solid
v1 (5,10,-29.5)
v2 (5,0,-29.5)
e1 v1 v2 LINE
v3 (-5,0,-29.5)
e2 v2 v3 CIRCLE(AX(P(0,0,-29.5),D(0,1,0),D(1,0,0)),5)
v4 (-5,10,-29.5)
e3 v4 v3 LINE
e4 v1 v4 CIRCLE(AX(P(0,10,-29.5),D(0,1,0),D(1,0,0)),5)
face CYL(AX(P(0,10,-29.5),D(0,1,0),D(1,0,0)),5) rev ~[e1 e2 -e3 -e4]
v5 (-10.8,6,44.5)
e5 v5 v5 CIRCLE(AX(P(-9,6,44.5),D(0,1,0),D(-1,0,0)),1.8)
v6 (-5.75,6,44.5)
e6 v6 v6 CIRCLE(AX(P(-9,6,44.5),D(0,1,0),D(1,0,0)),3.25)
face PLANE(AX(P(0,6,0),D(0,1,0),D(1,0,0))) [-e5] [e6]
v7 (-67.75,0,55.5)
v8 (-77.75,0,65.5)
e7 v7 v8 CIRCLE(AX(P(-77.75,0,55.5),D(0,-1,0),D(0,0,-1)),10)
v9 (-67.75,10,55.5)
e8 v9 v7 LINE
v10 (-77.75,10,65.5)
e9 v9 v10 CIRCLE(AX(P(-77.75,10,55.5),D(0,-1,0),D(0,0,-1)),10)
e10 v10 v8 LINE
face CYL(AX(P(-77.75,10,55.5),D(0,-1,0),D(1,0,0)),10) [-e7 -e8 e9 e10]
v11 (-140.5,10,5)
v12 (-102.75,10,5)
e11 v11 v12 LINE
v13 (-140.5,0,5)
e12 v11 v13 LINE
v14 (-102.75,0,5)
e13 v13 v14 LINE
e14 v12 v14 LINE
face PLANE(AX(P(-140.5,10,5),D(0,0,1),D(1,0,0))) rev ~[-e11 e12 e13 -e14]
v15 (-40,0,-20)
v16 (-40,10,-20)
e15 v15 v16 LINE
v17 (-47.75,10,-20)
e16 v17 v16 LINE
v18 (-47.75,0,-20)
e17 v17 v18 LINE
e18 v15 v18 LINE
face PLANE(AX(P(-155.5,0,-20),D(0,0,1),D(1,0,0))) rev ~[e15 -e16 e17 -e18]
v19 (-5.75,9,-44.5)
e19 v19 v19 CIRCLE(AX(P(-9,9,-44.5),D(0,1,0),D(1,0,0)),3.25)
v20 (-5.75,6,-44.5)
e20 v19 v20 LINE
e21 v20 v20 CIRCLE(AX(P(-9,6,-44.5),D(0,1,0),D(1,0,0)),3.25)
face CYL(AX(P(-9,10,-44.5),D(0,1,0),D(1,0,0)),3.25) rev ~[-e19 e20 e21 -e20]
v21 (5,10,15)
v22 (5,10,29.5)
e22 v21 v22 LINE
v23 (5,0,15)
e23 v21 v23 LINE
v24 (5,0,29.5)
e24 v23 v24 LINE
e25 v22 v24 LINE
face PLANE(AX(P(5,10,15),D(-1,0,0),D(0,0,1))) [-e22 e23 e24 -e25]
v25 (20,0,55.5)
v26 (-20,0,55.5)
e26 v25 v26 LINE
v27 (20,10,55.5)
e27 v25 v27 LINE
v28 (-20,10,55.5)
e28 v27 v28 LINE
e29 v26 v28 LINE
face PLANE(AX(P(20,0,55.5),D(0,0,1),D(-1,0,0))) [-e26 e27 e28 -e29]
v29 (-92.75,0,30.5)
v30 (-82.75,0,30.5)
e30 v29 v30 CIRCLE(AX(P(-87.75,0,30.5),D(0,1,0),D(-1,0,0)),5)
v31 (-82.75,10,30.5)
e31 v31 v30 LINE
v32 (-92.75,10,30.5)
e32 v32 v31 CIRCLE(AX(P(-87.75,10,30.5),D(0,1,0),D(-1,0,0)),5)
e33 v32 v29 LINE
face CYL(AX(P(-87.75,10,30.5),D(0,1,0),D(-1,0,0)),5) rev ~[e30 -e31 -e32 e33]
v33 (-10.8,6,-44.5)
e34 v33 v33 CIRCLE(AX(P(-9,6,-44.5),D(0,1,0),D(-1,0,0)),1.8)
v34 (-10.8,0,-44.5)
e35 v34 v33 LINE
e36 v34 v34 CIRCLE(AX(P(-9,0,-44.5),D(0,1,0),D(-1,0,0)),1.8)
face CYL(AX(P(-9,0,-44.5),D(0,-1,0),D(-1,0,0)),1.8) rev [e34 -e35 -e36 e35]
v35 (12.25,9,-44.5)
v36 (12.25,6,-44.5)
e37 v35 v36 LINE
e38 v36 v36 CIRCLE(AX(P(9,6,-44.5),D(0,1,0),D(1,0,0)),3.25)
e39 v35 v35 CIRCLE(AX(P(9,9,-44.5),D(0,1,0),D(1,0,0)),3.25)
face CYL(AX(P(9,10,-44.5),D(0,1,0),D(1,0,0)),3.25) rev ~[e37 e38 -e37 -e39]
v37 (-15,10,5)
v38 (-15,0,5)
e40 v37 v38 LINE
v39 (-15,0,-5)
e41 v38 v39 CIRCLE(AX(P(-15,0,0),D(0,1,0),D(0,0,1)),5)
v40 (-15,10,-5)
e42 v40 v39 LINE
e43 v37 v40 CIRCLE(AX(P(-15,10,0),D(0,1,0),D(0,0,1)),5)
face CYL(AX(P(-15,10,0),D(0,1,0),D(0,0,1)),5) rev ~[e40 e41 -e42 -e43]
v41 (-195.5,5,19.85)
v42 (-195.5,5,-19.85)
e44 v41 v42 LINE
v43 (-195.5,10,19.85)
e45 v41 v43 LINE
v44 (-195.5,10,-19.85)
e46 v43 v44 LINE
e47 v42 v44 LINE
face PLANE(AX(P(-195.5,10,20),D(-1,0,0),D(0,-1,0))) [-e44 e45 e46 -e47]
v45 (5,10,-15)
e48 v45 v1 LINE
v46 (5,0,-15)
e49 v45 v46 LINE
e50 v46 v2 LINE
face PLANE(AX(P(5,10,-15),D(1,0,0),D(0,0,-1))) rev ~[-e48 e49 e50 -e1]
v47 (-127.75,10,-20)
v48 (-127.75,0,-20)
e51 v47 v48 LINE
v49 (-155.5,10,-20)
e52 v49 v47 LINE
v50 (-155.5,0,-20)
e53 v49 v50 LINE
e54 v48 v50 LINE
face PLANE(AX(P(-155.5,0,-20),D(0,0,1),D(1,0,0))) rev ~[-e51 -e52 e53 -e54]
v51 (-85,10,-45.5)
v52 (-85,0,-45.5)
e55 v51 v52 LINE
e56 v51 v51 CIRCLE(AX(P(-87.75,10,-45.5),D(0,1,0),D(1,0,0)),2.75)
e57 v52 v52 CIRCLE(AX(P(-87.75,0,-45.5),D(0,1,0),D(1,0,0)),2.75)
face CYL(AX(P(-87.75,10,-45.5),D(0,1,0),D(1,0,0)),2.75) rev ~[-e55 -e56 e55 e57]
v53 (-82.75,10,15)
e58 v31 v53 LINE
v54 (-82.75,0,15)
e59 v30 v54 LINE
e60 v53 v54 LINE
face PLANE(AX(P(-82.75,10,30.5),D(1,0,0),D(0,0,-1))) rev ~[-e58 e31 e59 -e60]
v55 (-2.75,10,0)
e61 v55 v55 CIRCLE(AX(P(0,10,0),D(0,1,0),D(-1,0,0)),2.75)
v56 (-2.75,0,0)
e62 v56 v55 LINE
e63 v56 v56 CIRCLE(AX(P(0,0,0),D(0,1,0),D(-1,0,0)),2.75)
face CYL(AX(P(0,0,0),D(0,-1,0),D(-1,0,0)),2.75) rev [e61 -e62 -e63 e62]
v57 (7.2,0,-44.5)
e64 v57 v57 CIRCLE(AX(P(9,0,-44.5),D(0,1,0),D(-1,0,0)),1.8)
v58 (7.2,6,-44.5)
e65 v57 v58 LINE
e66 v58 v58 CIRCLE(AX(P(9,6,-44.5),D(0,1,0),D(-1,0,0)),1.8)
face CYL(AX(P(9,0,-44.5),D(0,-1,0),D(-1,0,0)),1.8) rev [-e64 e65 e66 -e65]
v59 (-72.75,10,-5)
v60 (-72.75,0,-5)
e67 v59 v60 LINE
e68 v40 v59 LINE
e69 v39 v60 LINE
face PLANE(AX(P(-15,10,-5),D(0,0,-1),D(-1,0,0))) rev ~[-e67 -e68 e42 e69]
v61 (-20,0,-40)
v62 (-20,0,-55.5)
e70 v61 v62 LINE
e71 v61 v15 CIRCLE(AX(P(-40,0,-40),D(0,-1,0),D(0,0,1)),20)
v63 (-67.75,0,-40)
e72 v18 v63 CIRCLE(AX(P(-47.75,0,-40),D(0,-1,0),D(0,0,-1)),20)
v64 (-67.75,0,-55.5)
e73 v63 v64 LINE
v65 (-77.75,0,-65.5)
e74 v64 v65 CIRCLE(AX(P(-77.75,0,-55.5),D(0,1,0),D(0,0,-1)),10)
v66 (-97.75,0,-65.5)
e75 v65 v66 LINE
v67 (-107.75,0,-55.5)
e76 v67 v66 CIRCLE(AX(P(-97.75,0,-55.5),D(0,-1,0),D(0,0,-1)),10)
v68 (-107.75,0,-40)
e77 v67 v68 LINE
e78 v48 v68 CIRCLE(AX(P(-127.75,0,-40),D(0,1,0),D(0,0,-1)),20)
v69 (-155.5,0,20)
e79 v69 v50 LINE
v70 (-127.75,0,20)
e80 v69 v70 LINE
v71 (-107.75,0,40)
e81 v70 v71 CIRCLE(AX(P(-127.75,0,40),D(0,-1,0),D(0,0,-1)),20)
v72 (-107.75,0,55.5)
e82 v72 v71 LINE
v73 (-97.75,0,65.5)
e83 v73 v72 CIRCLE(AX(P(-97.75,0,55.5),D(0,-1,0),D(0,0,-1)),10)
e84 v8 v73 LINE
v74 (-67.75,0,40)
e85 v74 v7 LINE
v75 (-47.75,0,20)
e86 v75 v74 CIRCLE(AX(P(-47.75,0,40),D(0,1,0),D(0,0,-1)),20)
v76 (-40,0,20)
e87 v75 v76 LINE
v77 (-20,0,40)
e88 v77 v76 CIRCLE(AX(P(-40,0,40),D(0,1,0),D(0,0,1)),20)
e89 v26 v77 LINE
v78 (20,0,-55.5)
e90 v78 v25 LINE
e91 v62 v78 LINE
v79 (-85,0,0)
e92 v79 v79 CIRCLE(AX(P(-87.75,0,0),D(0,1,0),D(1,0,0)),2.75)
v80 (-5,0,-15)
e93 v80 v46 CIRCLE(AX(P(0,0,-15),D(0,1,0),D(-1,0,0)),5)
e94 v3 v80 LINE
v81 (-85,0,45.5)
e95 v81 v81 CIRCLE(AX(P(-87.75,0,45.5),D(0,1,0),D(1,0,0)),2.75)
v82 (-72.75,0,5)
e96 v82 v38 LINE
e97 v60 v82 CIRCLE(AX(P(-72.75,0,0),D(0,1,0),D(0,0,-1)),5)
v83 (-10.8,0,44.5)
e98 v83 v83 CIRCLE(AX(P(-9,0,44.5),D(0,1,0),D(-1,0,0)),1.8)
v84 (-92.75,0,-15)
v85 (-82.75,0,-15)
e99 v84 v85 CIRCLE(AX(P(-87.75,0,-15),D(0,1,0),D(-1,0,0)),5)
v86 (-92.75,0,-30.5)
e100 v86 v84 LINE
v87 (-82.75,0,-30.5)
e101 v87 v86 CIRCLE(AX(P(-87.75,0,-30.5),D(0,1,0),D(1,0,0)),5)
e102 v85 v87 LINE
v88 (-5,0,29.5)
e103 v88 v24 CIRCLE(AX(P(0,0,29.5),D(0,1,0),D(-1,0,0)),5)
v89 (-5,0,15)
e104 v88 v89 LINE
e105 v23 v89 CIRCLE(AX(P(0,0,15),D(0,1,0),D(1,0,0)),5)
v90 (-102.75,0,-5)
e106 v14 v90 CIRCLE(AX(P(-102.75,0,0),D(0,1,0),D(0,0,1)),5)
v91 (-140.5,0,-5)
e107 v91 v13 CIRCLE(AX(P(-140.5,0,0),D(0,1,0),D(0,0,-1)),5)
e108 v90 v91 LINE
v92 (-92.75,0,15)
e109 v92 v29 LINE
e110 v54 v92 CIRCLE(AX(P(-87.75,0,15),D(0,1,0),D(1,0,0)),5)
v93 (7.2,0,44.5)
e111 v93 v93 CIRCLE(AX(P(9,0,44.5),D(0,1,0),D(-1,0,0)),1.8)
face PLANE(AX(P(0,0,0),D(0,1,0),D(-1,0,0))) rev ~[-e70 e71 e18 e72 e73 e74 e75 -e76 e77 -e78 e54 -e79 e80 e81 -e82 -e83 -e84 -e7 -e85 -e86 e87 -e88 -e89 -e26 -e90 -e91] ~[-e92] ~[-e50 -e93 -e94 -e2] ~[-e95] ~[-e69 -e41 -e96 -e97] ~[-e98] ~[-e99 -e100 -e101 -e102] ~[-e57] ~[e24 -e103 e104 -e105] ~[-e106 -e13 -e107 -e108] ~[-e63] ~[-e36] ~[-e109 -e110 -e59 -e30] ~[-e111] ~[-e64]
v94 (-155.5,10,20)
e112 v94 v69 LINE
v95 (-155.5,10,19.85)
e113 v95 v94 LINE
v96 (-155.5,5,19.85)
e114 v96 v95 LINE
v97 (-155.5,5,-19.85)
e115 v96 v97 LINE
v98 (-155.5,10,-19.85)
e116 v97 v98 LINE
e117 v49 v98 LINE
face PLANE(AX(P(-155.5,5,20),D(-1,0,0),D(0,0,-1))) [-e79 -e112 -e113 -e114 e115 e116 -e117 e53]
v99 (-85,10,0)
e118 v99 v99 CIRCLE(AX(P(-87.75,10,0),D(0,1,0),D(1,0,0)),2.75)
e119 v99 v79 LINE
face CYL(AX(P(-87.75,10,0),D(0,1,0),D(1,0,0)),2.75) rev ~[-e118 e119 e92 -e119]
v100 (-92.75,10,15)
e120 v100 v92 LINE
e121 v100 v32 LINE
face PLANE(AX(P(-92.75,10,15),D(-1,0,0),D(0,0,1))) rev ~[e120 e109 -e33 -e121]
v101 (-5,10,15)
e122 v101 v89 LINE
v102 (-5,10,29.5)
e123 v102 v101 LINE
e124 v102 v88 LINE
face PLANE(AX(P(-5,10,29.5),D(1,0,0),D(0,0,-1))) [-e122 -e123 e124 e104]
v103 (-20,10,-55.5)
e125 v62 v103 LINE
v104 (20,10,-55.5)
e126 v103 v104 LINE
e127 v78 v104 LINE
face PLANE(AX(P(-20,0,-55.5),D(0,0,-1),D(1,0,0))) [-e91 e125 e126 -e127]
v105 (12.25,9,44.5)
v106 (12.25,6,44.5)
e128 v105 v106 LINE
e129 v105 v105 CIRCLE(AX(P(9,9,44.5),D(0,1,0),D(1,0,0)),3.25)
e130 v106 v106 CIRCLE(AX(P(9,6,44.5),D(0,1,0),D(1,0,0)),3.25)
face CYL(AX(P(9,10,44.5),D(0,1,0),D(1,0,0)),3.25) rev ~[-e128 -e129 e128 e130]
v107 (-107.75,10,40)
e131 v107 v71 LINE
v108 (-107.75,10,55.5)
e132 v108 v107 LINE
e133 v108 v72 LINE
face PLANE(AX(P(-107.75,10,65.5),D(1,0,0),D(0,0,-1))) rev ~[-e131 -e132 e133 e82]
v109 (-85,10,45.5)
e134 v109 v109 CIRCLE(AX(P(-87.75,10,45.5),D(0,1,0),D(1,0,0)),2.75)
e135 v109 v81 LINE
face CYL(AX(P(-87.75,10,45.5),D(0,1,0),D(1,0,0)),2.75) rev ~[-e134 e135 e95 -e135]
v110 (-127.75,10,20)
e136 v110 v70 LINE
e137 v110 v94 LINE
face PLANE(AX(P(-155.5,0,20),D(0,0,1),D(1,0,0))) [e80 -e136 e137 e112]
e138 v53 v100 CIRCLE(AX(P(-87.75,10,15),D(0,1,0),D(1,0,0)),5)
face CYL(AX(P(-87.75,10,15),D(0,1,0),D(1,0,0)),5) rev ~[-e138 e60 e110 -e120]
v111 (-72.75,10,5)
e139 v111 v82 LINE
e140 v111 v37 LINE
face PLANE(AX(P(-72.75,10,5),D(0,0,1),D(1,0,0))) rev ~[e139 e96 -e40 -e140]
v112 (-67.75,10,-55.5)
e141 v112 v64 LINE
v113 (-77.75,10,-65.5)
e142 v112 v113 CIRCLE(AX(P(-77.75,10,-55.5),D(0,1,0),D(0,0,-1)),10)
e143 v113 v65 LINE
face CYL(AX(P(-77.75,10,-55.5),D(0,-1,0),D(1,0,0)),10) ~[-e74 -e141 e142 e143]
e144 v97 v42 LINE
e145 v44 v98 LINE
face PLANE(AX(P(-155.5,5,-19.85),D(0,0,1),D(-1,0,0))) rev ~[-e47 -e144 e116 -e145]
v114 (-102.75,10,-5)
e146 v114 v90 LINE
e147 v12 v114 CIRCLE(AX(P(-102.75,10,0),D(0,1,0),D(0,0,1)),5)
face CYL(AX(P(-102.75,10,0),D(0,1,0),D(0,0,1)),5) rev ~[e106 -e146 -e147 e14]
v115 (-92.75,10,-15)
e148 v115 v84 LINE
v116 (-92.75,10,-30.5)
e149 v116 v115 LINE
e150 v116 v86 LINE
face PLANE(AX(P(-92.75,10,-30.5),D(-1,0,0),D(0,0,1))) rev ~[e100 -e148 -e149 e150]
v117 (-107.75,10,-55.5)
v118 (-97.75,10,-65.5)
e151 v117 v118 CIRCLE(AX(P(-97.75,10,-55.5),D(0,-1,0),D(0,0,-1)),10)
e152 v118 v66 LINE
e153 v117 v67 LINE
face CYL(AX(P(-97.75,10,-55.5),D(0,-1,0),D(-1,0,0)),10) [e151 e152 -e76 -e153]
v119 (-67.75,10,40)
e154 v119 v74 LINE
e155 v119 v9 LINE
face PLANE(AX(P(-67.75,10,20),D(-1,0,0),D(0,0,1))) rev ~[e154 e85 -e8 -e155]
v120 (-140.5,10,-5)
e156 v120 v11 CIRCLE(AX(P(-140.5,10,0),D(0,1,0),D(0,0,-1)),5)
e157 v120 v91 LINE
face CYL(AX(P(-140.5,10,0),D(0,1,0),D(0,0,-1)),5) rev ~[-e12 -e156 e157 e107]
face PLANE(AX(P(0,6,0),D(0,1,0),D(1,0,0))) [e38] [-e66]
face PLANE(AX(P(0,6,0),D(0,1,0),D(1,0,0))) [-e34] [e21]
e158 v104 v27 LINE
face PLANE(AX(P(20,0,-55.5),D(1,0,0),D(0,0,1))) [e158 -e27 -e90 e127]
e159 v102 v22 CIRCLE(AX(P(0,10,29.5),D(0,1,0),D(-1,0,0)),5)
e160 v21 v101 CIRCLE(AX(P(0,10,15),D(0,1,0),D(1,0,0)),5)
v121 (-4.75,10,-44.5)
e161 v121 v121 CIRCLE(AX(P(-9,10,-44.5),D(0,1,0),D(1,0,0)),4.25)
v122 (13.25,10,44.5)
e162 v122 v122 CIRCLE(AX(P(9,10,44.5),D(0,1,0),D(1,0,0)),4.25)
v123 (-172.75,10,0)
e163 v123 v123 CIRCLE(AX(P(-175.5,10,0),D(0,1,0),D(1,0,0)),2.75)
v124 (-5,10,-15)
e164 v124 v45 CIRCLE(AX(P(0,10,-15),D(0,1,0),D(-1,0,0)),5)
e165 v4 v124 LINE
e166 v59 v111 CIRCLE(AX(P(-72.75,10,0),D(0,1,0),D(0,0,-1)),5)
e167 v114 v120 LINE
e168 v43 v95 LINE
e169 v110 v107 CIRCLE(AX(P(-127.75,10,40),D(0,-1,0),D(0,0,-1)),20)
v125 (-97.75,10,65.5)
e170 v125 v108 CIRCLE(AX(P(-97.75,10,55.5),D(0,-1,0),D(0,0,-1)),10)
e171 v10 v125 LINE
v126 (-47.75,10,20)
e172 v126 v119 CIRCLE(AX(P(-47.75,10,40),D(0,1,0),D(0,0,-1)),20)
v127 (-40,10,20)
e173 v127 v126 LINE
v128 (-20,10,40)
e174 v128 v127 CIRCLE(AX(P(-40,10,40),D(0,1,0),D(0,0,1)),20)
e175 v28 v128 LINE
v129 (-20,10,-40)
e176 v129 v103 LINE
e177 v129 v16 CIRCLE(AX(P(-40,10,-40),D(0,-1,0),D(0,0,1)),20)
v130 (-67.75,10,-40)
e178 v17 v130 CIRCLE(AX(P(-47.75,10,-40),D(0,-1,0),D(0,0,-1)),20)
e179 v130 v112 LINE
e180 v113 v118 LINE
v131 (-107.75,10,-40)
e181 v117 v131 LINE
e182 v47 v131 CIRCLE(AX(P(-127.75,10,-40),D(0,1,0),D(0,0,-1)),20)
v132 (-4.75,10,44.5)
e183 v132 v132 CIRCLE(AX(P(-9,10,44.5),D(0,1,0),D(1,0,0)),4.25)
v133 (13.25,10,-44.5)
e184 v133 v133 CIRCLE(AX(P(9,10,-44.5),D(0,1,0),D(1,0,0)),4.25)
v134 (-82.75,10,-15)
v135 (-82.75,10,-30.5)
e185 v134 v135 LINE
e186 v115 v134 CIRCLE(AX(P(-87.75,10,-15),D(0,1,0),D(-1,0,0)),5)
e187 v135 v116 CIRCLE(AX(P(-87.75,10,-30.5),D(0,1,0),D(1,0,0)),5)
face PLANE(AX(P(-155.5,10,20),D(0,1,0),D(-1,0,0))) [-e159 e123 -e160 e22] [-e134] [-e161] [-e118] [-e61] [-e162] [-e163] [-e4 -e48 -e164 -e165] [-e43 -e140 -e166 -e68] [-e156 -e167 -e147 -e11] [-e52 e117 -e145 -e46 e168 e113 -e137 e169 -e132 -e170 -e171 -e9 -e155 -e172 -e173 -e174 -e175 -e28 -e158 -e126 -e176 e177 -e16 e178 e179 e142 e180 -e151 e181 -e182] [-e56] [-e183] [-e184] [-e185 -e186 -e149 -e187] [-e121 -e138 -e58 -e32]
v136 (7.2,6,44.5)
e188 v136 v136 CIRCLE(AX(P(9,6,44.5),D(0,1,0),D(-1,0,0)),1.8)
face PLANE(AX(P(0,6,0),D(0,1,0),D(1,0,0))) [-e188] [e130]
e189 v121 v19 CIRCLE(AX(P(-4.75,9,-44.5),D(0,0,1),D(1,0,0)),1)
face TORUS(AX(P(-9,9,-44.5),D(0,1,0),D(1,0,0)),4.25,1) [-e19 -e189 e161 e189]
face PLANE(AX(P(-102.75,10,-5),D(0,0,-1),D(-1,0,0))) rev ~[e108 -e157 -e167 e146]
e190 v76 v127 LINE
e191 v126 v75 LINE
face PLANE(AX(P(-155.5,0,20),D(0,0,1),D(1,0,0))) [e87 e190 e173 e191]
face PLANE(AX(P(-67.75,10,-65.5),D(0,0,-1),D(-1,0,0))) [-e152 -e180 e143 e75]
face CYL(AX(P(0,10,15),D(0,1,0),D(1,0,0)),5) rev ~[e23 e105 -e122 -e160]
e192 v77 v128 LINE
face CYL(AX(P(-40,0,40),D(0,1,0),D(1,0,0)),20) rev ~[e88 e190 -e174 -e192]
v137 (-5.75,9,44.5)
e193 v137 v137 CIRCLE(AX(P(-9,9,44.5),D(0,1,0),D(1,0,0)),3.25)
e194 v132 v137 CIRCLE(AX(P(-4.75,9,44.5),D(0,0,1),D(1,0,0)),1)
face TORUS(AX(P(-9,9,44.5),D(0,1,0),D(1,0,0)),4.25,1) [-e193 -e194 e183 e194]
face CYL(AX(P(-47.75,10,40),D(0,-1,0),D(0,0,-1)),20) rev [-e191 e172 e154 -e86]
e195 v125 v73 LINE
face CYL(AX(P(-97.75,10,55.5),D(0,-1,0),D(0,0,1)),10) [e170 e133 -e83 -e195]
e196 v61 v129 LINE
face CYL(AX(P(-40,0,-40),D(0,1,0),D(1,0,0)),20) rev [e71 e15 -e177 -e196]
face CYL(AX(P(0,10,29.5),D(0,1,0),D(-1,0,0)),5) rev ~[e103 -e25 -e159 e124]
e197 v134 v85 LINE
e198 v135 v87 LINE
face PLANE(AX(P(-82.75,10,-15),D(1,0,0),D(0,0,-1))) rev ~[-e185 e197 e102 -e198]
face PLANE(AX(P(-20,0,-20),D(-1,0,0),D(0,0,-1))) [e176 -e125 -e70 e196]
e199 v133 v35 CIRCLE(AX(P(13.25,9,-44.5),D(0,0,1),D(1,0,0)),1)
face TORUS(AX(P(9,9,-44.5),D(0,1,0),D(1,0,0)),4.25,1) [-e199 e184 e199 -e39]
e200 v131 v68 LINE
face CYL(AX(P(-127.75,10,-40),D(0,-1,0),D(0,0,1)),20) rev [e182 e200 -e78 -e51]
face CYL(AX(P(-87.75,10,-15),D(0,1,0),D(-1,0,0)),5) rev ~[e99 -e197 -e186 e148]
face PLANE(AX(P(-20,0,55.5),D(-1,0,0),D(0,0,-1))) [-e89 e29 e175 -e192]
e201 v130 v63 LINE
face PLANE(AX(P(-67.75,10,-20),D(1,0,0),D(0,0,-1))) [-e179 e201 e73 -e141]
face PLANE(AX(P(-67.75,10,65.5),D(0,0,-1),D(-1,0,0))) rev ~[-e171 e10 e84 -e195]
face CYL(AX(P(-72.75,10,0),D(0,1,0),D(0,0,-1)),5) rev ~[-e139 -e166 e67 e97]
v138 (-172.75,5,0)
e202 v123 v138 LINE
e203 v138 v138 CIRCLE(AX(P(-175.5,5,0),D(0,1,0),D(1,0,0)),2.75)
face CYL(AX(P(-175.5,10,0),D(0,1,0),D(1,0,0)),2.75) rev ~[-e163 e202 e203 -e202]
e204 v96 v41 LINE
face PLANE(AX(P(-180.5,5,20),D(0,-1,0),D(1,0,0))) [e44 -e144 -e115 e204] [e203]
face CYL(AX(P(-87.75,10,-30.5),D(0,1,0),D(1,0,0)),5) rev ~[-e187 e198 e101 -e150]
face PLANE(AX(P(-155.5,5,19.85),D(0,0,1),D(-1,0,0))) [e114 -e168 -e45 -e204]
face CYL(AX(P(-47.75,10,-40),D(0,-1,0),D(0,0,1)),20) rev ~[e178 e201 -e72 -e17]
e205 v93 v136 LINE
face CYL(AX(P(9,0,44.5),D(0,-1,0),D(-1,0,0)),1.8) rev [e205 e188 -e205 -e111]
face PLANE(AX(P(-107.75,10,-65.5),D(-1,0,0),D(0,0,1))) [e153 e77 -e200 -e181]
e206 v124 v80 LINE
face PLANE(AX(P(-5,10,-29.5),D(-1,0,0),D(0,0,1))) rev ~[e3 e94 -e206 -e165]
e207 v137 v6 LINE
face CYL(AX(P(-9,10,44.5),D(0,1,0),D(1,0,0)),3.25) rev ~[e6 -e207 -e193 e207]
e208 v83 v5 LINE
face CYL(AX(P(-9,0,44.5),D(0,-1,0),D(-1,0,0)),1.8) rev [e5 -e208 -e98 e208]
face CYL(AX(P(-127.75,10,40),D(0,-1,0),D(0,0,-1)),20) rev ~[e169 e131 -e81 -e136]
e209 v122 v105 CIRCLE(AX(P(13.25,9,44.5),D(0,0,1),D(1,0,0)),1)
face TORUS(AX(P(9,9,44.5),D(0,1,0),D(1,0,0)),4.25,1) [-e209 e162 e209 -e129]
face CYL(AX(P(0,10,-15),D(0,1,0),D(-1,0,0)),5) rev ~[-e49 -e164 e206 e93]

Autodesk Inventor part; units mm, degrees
ref_plane "YZ Plane" through (0, 0, 0) normal (1, 0, 0) x (0, 1, 0)
ref_plane "XZ Plane" through (0, 0, 0) normal (0, 1, 0) x (-1, 0, 0)
ref_plane "XY Plane" through (0, 0, 0) normal (0, 0, 1) x (1, 0, 0)
sketch "Sketch1" plane through (0, 0, 0) normal (0, 1, 0) x (-1, 0, 0)
  line L0 (-20, 55.5) -> (20, 55.5)
  line L1 (20, 55.5) -> (20, -55.5)
  line L2 (20, -55.5) -> (-20, -55.5)
  line L3 (-20, -55.5) -> (-20, 55.5)
  line L4 (0, 55.5) -> (0, -55.5) construction
  line L5 (20, 0) -> (-20, 0) construction
  circle A0 centre (9, -44.5) radius 1.8
  circle A1 centre (9, 44.5) radius 1.8
  circle A2 centre (-9, -44.5) radius 1.8
  circle A3 centre (-9, 44.5) radius 1.8
  circle A4 centre (0, 0) radius 2.75
  line L6 (155.5, -20) -> (20, -20)
  line L7 (20, -20) -> (20, 20)
  line L8 (20, 20) -> (155.5, 20)
  line L9 (155.5, 20) -> (155.5, -20)
  point P0 (145, 0)
  point P1 (145, -20)
  dimension "d0" = 40
  dimension "d1" = 111
  dimension "d2" = 3.6
  dimension "d3" = 5.5
  dimension "d4" = 40
extrude "Extrusion1" add sketch "Sketch1" along normal blind 10
sketch "Sketch2" plane through (0, 10, 0) normal (0, 1, 0) x (1, 0, 0)
  circle A0 centre (-9, 44.5) radius 1.8 projected
  circle A1 centre (-9, 44.5) radius 3.25
  circle A2 centre (9, 44.5) radius 1.8 projected
  circle A3 centre (9, 44.5) radius 3.25
  circle A4 centre (9, -44.5) radius 1.8 projected
  circle A5 centre (9, -44.5) radius 3.25
  circle A6 centre (-9, -44.5) radius 1.8 projected
  circle A7 centre (-9, -44.5) radius 3.25
  point P0 (0, 0)
  dimension "d7" = 6.5
  dimension "d8" = 6.5
  dimension "d9" = 6.5
  dimension "d10" = 6.5
extrude "Extrusion2" cut sketch "Sketch2" against normal blind 4
fillet "Fillet1" radius 1 4 edges at (-12.25, 10, 44.5) (5.75, 10, 44.5) (5.75, 10, -44.5) (-12.25, 10, -44.5)
fillet "Fillet2" radius 20 2 edges at (-20, 5, 20) (-20, 5, -20)
sketch "Sketch3" plane through (-155.5, 0, 20) normal (0, 0, 1) x (1, 0, 0)
  line L0 (0, 0) -> (0, 10) projected
  line L1 (0, 10) -> (-25, 10)
  line L2 (-25, 10) -> (-25, 5)
  line L3 (-25, 5) -> (0, 5)
  line L4 (0, 5) -> (0, 10)
  line L5 (0, 5) -> (15, 5)
  line L6 (15, 5) -> (15, 0)
  line L7 (15, 0) -> (0, 0)
  line L8 (0, 0) -> (0, 5)
  point P0 (155.5, 0)
  dimension "d15" = 25
  dimension "d16" = 5
  dimension "d17" = 15
  dimension "d18" = 5
extrude "Extrusion3" add sketch "Sketch3" against normal blind 40 contours L3 L2 L1 L0
extrude "Extrusion4" cut sketch "Sketch3" against normal blind 40 contours L0 L5 L6 L7
sketch "Sketch4" plane through (0, 10, 0) normal (0, 1, 0) x (1, 0, 0)
  circle A0 centre (0, 0) radius 2.75 construction
  circle A1 centre (-9, 44.5) radius 1.8 construction
  circle A2 centre (9, 44.5) radius 1.8 construction
  line L0 (-9, 44.5) -> (9, 44.5) construction
  line L1 (0, 29.5) -> (0, 15) construction
  line L2 (-5, 29.5) -> (-5, 15)
  line L3 (5, 15) -> (5, 29.5)
  arc A3 (5, 29.5) -> (-5, 29.5) centre (0, 29.5) ccw
  arc A4 (-5, 15) -> (5, 15) centre (0, 15) ccw
  line L4 (-7.5, 0) -> (7.5, 0) construction
  line L5 (-5, -29.5) -> (-5, -15)
  line L6 (5, -15) -> (5, -29.5)
  arc A5 (-5, -29.5) -> (5, -29.5) centre (0, -29.5) ccw
  arc A6 (5, -15) -> (-5, -15) centre (0, -15) ccw
  line L7 (-160.5, 0) -> (0, 0) construction
  line L8 (-40, 20) -> (-140.5, 20) construction
  line L9 (-140.5, -20) -> (-140.5, 20) construction
  line L10 (-140.5, 20) -> (-140.5, -20) construction
  point P0 (0, 22.25)
  point P1 (-95.25, 0)
  point P2 (-65.25, 0)
  point P3 (-15, 0)
  point P4 (-125.5, 0)
  dimension "d33" = 10
  dimension "d34" = 15
extrude "Extrusion5" cut sketch "Sketch4" against normal blind 10
sketch "Sketch5" plane through (-40, 0, 20) normal (0, 0, 1) x (1, 0, 0)
  line L0 (0, 10) -> (-140.5, 10) projected
  line L1 (-140.5, 10) -> (-155.5, 10)
  line L2 (-155.5, 10) -> (-155.5, 5)
  line L3 (-155.5, 5) -> (-140.5, 5)
  line L4 (-140.5, 5) -> (-140.5, 10)
  line L5 (-100.5, 0) -> (-100.5, 5) projected
  line L6 (-100.5, 5) -> (-115.5, 5)
  line L7 (-115.5, 5) -> (-115.5, 0)
  line L8 (-115.5, 0) -> (-100.5, 0)
  line L9 (-100.5, 0) -> (-100.5, 5)
  point P0 (40, 0)
  dimension "d49" = 15
  dimension "d53" = 15
  dimension "d54" = 5
extrude "Extrusion6" add sketch "Sketch5" against normal blind 40
sketch "Sketch6" plane through (0, 10, 0) normal (0, 1, 0) x (1, 0, 0)
  circle A0 centre (-175.5, 0) radius 2.75
  line L0 (-175.5, 0) -> (0, 0) construction
  circle A1 centre (-87.75, 0) radius 2.75
  line L1 (-155.5, -20) -> (-155.5, 20) construction
  line L2 (-155.5, -20) -> (-155.5, 20) construction
  line L3 (-140.5, 0) -> (-102.75, 0) construction
  line L4 (-140.5, -5) -> (-102.75, -5)
  line L5 (-102.75, 5) -> (-140.5, 5)
  arc A2 (-140.5, 5) -> (-140.5, -5) centre (-140.5, 0) ccw
  arc A3 (-102.75, -5) -> (-102.75, 5) centre (-102.75, 0) ccw
  line L6 (-72.75, 0) -> (-15, 0) construction
  line L7 (-72.75, -5) -> (-15, -5)
  line L8 (-15, 5) -> (-72.75, 5)
  arc A4 (-72.75, 5) -> (-72.75, -5) centre (-72.75, 0) ccw
  arc A5 (-15, -5) -> (-15, 5) centre (-15, 0) ccw
  point P0 (-155.5, 0)
  point P1 (-121.625, 0)
  point P2 (-43.875, 0)
  dimension "d55" = 5.5
  dimension "d58" = 87.75
  dimension "d63" = 10
  dimension "d64" = 10
extrude "Extrusion7" cut sketch "Sketch6" against normal through all
sketch "Sketch8" plane through (0, 10, 0) normal (0, 1, 0) x (1, 0, 0)
  circle A0 centre (-87.75, 0) radius 2.75 projected
  line L0 (-87.75, -20) -> (-87.75, 20) construction
  line L1 (-40, 20) -> (-155.5, 20) projected
  line L2 (-107.75, 20) -> (-67.75, 20) construction
  line L3 (-107.75, -20) -> (-67.75, -20) construction
  line L4 (-155.5, -20) -> (-40, -20) construction
  line L5 (-107.75, 20) -> (-67.75, 20)
  line L6 (-67.75, 20) -> (-67.75, 65.5)
  line L7 (-67.75, 65.5) -> (-107.75, 65.5)
  line L8 (-107.75, 65.5) -> (-107.75, 20)
  line L9 (-107.75, -20) -> (-67.75, -20)
  line L10 (-67.75, -20) -> (-67.75, -65.5)
  line L11 (-67.75, -65.5) -> (-107.75, -65.5)
  line L12 (-107.75, -65.5) -> (-107.75, -20)
  point P0 (0, 0)
  dimension "d67" = 40
  dimension "d68" = 40
  dimension "d69" = 45.5
  dimension "d70" = 45.5
extrude "Extrusion8" add sketch "Sketch8" against normal blind 10 contours L1 L8 L7 L6 | L9 L10 L11 L12
sketch "Sketch9" plane through (0, 10, 0) normal (0, 1, 0) x (1, 0, 0)
  circle A0 centre (-87.75, 0) radius 2.75 construction
  line L0 (20, 0) -> (-195.5, 0) construction
  line L1 (-195.5, -20) -> (-195.5, 20) construction
  line L2 (-87.75, -65.5) -> (-87.75, 65.5) construction
  line L3 (-107.75, 65.5) -> (-67.75, 65.5) construction
  circle A1 centre (-87.75, -45.5) radius 2.75
  circle A2 centre (-87.75, 45.5) radius 2.75
  line L4 (-87.75, -30.5) -> (-87.75, -15) construction
  line L5 (-82.75, -30.5) -> (-82.75, -15)
  line L6 (-92.75, -15) -> (-92.75, -30.5)
  arc A3 (-92.75, -30.5) -> (-82.75, -30.5) centre (-87.75, -30.5) ccw
  arc A4 (-82.75, -15) -> (-92.75, -15) centre (-87.75, -15) ccw
  line L7 (-87.75, 15) -> (-87.75, 30.5) construction
  line L8 (-82.75, 15) -> (-82.75, 30.5)
  line L9 (-92.75, 30.5) -> (-92.75, 15)
  arc A5 (-92.75, 15) -> (-82.75, 15) centre (-87.75, 15) ccw
  arc A6 (-82.75, 30.5) -> (-92.75, 30.5) centre (-87.75, 30.5) ccw
  point P0 (0, 0)
  point P1 (-87.75, -22.75)
  point P2 (-87.75, 22.75)
  dimension "d74" = 5.5
  dimension "d75" = 10
  dimension "d76" = 10
extrude "Extrusion9" cut sketch "Sketch9" against normal blind 10
fillet "Fillet4" radius 20 4 edges at (-67.75, 5, 20) (-67.75, 5, -20) (-107.75, 5, -20) (-107.75, 5, 20)
fillet "Fillet5" radius 10 4 edges at (-67.75, 5, 65.5) (-107.75, 5, 65.5) (-107.75, 5, -65.5) (-67.75, 5, -65.5)
sketch "Sketch11" plane through (-195.5, 5, 20) normal (0, -1, 0) x (1, 0, 0)
  line L0 (67.75, 0) -> (0, 0) projected
  line L1 (40, 0) -> (40, -40) projected
  line L2 (0, 0) -> (40, 0)
  line L3 (40, 0) -> (40, -40)
  line L4 (40, -40) -> (0, -40)
  line L5 (0, -40) -> (0, 0)
  line L6 (0, 0) -> (40, 0)
  line L7 (40, 0) -> (40, -0.15)
  line L8 (40, -0.15) -> (0, -0.15)
  line L9 (0, -0.15) -> (0, 0)
  line L10 (0, -40) -> (40, -40)
  line L11 (40, -40) -> (40, -39.85)
  line L12 (40, -39.85) -> (0, -39.85)
  line L13 (0, -39.85) -> (0, -40)
  point P0 (195.5, -20)
  point P1 (0, -0.15)
  point P2 (40, -0.15)
  dimension "d81" = 40
  dimension "d82" = 0.15
  dimension "d83" = 40
  dimension "d84" = 0.15
extrude "Extrusion10" cut sketch "Sketch11" against normal through all contours L1 L8 L5 L0 | L1 L4 L5 L12
properties part number "Chassis Front Spine"
